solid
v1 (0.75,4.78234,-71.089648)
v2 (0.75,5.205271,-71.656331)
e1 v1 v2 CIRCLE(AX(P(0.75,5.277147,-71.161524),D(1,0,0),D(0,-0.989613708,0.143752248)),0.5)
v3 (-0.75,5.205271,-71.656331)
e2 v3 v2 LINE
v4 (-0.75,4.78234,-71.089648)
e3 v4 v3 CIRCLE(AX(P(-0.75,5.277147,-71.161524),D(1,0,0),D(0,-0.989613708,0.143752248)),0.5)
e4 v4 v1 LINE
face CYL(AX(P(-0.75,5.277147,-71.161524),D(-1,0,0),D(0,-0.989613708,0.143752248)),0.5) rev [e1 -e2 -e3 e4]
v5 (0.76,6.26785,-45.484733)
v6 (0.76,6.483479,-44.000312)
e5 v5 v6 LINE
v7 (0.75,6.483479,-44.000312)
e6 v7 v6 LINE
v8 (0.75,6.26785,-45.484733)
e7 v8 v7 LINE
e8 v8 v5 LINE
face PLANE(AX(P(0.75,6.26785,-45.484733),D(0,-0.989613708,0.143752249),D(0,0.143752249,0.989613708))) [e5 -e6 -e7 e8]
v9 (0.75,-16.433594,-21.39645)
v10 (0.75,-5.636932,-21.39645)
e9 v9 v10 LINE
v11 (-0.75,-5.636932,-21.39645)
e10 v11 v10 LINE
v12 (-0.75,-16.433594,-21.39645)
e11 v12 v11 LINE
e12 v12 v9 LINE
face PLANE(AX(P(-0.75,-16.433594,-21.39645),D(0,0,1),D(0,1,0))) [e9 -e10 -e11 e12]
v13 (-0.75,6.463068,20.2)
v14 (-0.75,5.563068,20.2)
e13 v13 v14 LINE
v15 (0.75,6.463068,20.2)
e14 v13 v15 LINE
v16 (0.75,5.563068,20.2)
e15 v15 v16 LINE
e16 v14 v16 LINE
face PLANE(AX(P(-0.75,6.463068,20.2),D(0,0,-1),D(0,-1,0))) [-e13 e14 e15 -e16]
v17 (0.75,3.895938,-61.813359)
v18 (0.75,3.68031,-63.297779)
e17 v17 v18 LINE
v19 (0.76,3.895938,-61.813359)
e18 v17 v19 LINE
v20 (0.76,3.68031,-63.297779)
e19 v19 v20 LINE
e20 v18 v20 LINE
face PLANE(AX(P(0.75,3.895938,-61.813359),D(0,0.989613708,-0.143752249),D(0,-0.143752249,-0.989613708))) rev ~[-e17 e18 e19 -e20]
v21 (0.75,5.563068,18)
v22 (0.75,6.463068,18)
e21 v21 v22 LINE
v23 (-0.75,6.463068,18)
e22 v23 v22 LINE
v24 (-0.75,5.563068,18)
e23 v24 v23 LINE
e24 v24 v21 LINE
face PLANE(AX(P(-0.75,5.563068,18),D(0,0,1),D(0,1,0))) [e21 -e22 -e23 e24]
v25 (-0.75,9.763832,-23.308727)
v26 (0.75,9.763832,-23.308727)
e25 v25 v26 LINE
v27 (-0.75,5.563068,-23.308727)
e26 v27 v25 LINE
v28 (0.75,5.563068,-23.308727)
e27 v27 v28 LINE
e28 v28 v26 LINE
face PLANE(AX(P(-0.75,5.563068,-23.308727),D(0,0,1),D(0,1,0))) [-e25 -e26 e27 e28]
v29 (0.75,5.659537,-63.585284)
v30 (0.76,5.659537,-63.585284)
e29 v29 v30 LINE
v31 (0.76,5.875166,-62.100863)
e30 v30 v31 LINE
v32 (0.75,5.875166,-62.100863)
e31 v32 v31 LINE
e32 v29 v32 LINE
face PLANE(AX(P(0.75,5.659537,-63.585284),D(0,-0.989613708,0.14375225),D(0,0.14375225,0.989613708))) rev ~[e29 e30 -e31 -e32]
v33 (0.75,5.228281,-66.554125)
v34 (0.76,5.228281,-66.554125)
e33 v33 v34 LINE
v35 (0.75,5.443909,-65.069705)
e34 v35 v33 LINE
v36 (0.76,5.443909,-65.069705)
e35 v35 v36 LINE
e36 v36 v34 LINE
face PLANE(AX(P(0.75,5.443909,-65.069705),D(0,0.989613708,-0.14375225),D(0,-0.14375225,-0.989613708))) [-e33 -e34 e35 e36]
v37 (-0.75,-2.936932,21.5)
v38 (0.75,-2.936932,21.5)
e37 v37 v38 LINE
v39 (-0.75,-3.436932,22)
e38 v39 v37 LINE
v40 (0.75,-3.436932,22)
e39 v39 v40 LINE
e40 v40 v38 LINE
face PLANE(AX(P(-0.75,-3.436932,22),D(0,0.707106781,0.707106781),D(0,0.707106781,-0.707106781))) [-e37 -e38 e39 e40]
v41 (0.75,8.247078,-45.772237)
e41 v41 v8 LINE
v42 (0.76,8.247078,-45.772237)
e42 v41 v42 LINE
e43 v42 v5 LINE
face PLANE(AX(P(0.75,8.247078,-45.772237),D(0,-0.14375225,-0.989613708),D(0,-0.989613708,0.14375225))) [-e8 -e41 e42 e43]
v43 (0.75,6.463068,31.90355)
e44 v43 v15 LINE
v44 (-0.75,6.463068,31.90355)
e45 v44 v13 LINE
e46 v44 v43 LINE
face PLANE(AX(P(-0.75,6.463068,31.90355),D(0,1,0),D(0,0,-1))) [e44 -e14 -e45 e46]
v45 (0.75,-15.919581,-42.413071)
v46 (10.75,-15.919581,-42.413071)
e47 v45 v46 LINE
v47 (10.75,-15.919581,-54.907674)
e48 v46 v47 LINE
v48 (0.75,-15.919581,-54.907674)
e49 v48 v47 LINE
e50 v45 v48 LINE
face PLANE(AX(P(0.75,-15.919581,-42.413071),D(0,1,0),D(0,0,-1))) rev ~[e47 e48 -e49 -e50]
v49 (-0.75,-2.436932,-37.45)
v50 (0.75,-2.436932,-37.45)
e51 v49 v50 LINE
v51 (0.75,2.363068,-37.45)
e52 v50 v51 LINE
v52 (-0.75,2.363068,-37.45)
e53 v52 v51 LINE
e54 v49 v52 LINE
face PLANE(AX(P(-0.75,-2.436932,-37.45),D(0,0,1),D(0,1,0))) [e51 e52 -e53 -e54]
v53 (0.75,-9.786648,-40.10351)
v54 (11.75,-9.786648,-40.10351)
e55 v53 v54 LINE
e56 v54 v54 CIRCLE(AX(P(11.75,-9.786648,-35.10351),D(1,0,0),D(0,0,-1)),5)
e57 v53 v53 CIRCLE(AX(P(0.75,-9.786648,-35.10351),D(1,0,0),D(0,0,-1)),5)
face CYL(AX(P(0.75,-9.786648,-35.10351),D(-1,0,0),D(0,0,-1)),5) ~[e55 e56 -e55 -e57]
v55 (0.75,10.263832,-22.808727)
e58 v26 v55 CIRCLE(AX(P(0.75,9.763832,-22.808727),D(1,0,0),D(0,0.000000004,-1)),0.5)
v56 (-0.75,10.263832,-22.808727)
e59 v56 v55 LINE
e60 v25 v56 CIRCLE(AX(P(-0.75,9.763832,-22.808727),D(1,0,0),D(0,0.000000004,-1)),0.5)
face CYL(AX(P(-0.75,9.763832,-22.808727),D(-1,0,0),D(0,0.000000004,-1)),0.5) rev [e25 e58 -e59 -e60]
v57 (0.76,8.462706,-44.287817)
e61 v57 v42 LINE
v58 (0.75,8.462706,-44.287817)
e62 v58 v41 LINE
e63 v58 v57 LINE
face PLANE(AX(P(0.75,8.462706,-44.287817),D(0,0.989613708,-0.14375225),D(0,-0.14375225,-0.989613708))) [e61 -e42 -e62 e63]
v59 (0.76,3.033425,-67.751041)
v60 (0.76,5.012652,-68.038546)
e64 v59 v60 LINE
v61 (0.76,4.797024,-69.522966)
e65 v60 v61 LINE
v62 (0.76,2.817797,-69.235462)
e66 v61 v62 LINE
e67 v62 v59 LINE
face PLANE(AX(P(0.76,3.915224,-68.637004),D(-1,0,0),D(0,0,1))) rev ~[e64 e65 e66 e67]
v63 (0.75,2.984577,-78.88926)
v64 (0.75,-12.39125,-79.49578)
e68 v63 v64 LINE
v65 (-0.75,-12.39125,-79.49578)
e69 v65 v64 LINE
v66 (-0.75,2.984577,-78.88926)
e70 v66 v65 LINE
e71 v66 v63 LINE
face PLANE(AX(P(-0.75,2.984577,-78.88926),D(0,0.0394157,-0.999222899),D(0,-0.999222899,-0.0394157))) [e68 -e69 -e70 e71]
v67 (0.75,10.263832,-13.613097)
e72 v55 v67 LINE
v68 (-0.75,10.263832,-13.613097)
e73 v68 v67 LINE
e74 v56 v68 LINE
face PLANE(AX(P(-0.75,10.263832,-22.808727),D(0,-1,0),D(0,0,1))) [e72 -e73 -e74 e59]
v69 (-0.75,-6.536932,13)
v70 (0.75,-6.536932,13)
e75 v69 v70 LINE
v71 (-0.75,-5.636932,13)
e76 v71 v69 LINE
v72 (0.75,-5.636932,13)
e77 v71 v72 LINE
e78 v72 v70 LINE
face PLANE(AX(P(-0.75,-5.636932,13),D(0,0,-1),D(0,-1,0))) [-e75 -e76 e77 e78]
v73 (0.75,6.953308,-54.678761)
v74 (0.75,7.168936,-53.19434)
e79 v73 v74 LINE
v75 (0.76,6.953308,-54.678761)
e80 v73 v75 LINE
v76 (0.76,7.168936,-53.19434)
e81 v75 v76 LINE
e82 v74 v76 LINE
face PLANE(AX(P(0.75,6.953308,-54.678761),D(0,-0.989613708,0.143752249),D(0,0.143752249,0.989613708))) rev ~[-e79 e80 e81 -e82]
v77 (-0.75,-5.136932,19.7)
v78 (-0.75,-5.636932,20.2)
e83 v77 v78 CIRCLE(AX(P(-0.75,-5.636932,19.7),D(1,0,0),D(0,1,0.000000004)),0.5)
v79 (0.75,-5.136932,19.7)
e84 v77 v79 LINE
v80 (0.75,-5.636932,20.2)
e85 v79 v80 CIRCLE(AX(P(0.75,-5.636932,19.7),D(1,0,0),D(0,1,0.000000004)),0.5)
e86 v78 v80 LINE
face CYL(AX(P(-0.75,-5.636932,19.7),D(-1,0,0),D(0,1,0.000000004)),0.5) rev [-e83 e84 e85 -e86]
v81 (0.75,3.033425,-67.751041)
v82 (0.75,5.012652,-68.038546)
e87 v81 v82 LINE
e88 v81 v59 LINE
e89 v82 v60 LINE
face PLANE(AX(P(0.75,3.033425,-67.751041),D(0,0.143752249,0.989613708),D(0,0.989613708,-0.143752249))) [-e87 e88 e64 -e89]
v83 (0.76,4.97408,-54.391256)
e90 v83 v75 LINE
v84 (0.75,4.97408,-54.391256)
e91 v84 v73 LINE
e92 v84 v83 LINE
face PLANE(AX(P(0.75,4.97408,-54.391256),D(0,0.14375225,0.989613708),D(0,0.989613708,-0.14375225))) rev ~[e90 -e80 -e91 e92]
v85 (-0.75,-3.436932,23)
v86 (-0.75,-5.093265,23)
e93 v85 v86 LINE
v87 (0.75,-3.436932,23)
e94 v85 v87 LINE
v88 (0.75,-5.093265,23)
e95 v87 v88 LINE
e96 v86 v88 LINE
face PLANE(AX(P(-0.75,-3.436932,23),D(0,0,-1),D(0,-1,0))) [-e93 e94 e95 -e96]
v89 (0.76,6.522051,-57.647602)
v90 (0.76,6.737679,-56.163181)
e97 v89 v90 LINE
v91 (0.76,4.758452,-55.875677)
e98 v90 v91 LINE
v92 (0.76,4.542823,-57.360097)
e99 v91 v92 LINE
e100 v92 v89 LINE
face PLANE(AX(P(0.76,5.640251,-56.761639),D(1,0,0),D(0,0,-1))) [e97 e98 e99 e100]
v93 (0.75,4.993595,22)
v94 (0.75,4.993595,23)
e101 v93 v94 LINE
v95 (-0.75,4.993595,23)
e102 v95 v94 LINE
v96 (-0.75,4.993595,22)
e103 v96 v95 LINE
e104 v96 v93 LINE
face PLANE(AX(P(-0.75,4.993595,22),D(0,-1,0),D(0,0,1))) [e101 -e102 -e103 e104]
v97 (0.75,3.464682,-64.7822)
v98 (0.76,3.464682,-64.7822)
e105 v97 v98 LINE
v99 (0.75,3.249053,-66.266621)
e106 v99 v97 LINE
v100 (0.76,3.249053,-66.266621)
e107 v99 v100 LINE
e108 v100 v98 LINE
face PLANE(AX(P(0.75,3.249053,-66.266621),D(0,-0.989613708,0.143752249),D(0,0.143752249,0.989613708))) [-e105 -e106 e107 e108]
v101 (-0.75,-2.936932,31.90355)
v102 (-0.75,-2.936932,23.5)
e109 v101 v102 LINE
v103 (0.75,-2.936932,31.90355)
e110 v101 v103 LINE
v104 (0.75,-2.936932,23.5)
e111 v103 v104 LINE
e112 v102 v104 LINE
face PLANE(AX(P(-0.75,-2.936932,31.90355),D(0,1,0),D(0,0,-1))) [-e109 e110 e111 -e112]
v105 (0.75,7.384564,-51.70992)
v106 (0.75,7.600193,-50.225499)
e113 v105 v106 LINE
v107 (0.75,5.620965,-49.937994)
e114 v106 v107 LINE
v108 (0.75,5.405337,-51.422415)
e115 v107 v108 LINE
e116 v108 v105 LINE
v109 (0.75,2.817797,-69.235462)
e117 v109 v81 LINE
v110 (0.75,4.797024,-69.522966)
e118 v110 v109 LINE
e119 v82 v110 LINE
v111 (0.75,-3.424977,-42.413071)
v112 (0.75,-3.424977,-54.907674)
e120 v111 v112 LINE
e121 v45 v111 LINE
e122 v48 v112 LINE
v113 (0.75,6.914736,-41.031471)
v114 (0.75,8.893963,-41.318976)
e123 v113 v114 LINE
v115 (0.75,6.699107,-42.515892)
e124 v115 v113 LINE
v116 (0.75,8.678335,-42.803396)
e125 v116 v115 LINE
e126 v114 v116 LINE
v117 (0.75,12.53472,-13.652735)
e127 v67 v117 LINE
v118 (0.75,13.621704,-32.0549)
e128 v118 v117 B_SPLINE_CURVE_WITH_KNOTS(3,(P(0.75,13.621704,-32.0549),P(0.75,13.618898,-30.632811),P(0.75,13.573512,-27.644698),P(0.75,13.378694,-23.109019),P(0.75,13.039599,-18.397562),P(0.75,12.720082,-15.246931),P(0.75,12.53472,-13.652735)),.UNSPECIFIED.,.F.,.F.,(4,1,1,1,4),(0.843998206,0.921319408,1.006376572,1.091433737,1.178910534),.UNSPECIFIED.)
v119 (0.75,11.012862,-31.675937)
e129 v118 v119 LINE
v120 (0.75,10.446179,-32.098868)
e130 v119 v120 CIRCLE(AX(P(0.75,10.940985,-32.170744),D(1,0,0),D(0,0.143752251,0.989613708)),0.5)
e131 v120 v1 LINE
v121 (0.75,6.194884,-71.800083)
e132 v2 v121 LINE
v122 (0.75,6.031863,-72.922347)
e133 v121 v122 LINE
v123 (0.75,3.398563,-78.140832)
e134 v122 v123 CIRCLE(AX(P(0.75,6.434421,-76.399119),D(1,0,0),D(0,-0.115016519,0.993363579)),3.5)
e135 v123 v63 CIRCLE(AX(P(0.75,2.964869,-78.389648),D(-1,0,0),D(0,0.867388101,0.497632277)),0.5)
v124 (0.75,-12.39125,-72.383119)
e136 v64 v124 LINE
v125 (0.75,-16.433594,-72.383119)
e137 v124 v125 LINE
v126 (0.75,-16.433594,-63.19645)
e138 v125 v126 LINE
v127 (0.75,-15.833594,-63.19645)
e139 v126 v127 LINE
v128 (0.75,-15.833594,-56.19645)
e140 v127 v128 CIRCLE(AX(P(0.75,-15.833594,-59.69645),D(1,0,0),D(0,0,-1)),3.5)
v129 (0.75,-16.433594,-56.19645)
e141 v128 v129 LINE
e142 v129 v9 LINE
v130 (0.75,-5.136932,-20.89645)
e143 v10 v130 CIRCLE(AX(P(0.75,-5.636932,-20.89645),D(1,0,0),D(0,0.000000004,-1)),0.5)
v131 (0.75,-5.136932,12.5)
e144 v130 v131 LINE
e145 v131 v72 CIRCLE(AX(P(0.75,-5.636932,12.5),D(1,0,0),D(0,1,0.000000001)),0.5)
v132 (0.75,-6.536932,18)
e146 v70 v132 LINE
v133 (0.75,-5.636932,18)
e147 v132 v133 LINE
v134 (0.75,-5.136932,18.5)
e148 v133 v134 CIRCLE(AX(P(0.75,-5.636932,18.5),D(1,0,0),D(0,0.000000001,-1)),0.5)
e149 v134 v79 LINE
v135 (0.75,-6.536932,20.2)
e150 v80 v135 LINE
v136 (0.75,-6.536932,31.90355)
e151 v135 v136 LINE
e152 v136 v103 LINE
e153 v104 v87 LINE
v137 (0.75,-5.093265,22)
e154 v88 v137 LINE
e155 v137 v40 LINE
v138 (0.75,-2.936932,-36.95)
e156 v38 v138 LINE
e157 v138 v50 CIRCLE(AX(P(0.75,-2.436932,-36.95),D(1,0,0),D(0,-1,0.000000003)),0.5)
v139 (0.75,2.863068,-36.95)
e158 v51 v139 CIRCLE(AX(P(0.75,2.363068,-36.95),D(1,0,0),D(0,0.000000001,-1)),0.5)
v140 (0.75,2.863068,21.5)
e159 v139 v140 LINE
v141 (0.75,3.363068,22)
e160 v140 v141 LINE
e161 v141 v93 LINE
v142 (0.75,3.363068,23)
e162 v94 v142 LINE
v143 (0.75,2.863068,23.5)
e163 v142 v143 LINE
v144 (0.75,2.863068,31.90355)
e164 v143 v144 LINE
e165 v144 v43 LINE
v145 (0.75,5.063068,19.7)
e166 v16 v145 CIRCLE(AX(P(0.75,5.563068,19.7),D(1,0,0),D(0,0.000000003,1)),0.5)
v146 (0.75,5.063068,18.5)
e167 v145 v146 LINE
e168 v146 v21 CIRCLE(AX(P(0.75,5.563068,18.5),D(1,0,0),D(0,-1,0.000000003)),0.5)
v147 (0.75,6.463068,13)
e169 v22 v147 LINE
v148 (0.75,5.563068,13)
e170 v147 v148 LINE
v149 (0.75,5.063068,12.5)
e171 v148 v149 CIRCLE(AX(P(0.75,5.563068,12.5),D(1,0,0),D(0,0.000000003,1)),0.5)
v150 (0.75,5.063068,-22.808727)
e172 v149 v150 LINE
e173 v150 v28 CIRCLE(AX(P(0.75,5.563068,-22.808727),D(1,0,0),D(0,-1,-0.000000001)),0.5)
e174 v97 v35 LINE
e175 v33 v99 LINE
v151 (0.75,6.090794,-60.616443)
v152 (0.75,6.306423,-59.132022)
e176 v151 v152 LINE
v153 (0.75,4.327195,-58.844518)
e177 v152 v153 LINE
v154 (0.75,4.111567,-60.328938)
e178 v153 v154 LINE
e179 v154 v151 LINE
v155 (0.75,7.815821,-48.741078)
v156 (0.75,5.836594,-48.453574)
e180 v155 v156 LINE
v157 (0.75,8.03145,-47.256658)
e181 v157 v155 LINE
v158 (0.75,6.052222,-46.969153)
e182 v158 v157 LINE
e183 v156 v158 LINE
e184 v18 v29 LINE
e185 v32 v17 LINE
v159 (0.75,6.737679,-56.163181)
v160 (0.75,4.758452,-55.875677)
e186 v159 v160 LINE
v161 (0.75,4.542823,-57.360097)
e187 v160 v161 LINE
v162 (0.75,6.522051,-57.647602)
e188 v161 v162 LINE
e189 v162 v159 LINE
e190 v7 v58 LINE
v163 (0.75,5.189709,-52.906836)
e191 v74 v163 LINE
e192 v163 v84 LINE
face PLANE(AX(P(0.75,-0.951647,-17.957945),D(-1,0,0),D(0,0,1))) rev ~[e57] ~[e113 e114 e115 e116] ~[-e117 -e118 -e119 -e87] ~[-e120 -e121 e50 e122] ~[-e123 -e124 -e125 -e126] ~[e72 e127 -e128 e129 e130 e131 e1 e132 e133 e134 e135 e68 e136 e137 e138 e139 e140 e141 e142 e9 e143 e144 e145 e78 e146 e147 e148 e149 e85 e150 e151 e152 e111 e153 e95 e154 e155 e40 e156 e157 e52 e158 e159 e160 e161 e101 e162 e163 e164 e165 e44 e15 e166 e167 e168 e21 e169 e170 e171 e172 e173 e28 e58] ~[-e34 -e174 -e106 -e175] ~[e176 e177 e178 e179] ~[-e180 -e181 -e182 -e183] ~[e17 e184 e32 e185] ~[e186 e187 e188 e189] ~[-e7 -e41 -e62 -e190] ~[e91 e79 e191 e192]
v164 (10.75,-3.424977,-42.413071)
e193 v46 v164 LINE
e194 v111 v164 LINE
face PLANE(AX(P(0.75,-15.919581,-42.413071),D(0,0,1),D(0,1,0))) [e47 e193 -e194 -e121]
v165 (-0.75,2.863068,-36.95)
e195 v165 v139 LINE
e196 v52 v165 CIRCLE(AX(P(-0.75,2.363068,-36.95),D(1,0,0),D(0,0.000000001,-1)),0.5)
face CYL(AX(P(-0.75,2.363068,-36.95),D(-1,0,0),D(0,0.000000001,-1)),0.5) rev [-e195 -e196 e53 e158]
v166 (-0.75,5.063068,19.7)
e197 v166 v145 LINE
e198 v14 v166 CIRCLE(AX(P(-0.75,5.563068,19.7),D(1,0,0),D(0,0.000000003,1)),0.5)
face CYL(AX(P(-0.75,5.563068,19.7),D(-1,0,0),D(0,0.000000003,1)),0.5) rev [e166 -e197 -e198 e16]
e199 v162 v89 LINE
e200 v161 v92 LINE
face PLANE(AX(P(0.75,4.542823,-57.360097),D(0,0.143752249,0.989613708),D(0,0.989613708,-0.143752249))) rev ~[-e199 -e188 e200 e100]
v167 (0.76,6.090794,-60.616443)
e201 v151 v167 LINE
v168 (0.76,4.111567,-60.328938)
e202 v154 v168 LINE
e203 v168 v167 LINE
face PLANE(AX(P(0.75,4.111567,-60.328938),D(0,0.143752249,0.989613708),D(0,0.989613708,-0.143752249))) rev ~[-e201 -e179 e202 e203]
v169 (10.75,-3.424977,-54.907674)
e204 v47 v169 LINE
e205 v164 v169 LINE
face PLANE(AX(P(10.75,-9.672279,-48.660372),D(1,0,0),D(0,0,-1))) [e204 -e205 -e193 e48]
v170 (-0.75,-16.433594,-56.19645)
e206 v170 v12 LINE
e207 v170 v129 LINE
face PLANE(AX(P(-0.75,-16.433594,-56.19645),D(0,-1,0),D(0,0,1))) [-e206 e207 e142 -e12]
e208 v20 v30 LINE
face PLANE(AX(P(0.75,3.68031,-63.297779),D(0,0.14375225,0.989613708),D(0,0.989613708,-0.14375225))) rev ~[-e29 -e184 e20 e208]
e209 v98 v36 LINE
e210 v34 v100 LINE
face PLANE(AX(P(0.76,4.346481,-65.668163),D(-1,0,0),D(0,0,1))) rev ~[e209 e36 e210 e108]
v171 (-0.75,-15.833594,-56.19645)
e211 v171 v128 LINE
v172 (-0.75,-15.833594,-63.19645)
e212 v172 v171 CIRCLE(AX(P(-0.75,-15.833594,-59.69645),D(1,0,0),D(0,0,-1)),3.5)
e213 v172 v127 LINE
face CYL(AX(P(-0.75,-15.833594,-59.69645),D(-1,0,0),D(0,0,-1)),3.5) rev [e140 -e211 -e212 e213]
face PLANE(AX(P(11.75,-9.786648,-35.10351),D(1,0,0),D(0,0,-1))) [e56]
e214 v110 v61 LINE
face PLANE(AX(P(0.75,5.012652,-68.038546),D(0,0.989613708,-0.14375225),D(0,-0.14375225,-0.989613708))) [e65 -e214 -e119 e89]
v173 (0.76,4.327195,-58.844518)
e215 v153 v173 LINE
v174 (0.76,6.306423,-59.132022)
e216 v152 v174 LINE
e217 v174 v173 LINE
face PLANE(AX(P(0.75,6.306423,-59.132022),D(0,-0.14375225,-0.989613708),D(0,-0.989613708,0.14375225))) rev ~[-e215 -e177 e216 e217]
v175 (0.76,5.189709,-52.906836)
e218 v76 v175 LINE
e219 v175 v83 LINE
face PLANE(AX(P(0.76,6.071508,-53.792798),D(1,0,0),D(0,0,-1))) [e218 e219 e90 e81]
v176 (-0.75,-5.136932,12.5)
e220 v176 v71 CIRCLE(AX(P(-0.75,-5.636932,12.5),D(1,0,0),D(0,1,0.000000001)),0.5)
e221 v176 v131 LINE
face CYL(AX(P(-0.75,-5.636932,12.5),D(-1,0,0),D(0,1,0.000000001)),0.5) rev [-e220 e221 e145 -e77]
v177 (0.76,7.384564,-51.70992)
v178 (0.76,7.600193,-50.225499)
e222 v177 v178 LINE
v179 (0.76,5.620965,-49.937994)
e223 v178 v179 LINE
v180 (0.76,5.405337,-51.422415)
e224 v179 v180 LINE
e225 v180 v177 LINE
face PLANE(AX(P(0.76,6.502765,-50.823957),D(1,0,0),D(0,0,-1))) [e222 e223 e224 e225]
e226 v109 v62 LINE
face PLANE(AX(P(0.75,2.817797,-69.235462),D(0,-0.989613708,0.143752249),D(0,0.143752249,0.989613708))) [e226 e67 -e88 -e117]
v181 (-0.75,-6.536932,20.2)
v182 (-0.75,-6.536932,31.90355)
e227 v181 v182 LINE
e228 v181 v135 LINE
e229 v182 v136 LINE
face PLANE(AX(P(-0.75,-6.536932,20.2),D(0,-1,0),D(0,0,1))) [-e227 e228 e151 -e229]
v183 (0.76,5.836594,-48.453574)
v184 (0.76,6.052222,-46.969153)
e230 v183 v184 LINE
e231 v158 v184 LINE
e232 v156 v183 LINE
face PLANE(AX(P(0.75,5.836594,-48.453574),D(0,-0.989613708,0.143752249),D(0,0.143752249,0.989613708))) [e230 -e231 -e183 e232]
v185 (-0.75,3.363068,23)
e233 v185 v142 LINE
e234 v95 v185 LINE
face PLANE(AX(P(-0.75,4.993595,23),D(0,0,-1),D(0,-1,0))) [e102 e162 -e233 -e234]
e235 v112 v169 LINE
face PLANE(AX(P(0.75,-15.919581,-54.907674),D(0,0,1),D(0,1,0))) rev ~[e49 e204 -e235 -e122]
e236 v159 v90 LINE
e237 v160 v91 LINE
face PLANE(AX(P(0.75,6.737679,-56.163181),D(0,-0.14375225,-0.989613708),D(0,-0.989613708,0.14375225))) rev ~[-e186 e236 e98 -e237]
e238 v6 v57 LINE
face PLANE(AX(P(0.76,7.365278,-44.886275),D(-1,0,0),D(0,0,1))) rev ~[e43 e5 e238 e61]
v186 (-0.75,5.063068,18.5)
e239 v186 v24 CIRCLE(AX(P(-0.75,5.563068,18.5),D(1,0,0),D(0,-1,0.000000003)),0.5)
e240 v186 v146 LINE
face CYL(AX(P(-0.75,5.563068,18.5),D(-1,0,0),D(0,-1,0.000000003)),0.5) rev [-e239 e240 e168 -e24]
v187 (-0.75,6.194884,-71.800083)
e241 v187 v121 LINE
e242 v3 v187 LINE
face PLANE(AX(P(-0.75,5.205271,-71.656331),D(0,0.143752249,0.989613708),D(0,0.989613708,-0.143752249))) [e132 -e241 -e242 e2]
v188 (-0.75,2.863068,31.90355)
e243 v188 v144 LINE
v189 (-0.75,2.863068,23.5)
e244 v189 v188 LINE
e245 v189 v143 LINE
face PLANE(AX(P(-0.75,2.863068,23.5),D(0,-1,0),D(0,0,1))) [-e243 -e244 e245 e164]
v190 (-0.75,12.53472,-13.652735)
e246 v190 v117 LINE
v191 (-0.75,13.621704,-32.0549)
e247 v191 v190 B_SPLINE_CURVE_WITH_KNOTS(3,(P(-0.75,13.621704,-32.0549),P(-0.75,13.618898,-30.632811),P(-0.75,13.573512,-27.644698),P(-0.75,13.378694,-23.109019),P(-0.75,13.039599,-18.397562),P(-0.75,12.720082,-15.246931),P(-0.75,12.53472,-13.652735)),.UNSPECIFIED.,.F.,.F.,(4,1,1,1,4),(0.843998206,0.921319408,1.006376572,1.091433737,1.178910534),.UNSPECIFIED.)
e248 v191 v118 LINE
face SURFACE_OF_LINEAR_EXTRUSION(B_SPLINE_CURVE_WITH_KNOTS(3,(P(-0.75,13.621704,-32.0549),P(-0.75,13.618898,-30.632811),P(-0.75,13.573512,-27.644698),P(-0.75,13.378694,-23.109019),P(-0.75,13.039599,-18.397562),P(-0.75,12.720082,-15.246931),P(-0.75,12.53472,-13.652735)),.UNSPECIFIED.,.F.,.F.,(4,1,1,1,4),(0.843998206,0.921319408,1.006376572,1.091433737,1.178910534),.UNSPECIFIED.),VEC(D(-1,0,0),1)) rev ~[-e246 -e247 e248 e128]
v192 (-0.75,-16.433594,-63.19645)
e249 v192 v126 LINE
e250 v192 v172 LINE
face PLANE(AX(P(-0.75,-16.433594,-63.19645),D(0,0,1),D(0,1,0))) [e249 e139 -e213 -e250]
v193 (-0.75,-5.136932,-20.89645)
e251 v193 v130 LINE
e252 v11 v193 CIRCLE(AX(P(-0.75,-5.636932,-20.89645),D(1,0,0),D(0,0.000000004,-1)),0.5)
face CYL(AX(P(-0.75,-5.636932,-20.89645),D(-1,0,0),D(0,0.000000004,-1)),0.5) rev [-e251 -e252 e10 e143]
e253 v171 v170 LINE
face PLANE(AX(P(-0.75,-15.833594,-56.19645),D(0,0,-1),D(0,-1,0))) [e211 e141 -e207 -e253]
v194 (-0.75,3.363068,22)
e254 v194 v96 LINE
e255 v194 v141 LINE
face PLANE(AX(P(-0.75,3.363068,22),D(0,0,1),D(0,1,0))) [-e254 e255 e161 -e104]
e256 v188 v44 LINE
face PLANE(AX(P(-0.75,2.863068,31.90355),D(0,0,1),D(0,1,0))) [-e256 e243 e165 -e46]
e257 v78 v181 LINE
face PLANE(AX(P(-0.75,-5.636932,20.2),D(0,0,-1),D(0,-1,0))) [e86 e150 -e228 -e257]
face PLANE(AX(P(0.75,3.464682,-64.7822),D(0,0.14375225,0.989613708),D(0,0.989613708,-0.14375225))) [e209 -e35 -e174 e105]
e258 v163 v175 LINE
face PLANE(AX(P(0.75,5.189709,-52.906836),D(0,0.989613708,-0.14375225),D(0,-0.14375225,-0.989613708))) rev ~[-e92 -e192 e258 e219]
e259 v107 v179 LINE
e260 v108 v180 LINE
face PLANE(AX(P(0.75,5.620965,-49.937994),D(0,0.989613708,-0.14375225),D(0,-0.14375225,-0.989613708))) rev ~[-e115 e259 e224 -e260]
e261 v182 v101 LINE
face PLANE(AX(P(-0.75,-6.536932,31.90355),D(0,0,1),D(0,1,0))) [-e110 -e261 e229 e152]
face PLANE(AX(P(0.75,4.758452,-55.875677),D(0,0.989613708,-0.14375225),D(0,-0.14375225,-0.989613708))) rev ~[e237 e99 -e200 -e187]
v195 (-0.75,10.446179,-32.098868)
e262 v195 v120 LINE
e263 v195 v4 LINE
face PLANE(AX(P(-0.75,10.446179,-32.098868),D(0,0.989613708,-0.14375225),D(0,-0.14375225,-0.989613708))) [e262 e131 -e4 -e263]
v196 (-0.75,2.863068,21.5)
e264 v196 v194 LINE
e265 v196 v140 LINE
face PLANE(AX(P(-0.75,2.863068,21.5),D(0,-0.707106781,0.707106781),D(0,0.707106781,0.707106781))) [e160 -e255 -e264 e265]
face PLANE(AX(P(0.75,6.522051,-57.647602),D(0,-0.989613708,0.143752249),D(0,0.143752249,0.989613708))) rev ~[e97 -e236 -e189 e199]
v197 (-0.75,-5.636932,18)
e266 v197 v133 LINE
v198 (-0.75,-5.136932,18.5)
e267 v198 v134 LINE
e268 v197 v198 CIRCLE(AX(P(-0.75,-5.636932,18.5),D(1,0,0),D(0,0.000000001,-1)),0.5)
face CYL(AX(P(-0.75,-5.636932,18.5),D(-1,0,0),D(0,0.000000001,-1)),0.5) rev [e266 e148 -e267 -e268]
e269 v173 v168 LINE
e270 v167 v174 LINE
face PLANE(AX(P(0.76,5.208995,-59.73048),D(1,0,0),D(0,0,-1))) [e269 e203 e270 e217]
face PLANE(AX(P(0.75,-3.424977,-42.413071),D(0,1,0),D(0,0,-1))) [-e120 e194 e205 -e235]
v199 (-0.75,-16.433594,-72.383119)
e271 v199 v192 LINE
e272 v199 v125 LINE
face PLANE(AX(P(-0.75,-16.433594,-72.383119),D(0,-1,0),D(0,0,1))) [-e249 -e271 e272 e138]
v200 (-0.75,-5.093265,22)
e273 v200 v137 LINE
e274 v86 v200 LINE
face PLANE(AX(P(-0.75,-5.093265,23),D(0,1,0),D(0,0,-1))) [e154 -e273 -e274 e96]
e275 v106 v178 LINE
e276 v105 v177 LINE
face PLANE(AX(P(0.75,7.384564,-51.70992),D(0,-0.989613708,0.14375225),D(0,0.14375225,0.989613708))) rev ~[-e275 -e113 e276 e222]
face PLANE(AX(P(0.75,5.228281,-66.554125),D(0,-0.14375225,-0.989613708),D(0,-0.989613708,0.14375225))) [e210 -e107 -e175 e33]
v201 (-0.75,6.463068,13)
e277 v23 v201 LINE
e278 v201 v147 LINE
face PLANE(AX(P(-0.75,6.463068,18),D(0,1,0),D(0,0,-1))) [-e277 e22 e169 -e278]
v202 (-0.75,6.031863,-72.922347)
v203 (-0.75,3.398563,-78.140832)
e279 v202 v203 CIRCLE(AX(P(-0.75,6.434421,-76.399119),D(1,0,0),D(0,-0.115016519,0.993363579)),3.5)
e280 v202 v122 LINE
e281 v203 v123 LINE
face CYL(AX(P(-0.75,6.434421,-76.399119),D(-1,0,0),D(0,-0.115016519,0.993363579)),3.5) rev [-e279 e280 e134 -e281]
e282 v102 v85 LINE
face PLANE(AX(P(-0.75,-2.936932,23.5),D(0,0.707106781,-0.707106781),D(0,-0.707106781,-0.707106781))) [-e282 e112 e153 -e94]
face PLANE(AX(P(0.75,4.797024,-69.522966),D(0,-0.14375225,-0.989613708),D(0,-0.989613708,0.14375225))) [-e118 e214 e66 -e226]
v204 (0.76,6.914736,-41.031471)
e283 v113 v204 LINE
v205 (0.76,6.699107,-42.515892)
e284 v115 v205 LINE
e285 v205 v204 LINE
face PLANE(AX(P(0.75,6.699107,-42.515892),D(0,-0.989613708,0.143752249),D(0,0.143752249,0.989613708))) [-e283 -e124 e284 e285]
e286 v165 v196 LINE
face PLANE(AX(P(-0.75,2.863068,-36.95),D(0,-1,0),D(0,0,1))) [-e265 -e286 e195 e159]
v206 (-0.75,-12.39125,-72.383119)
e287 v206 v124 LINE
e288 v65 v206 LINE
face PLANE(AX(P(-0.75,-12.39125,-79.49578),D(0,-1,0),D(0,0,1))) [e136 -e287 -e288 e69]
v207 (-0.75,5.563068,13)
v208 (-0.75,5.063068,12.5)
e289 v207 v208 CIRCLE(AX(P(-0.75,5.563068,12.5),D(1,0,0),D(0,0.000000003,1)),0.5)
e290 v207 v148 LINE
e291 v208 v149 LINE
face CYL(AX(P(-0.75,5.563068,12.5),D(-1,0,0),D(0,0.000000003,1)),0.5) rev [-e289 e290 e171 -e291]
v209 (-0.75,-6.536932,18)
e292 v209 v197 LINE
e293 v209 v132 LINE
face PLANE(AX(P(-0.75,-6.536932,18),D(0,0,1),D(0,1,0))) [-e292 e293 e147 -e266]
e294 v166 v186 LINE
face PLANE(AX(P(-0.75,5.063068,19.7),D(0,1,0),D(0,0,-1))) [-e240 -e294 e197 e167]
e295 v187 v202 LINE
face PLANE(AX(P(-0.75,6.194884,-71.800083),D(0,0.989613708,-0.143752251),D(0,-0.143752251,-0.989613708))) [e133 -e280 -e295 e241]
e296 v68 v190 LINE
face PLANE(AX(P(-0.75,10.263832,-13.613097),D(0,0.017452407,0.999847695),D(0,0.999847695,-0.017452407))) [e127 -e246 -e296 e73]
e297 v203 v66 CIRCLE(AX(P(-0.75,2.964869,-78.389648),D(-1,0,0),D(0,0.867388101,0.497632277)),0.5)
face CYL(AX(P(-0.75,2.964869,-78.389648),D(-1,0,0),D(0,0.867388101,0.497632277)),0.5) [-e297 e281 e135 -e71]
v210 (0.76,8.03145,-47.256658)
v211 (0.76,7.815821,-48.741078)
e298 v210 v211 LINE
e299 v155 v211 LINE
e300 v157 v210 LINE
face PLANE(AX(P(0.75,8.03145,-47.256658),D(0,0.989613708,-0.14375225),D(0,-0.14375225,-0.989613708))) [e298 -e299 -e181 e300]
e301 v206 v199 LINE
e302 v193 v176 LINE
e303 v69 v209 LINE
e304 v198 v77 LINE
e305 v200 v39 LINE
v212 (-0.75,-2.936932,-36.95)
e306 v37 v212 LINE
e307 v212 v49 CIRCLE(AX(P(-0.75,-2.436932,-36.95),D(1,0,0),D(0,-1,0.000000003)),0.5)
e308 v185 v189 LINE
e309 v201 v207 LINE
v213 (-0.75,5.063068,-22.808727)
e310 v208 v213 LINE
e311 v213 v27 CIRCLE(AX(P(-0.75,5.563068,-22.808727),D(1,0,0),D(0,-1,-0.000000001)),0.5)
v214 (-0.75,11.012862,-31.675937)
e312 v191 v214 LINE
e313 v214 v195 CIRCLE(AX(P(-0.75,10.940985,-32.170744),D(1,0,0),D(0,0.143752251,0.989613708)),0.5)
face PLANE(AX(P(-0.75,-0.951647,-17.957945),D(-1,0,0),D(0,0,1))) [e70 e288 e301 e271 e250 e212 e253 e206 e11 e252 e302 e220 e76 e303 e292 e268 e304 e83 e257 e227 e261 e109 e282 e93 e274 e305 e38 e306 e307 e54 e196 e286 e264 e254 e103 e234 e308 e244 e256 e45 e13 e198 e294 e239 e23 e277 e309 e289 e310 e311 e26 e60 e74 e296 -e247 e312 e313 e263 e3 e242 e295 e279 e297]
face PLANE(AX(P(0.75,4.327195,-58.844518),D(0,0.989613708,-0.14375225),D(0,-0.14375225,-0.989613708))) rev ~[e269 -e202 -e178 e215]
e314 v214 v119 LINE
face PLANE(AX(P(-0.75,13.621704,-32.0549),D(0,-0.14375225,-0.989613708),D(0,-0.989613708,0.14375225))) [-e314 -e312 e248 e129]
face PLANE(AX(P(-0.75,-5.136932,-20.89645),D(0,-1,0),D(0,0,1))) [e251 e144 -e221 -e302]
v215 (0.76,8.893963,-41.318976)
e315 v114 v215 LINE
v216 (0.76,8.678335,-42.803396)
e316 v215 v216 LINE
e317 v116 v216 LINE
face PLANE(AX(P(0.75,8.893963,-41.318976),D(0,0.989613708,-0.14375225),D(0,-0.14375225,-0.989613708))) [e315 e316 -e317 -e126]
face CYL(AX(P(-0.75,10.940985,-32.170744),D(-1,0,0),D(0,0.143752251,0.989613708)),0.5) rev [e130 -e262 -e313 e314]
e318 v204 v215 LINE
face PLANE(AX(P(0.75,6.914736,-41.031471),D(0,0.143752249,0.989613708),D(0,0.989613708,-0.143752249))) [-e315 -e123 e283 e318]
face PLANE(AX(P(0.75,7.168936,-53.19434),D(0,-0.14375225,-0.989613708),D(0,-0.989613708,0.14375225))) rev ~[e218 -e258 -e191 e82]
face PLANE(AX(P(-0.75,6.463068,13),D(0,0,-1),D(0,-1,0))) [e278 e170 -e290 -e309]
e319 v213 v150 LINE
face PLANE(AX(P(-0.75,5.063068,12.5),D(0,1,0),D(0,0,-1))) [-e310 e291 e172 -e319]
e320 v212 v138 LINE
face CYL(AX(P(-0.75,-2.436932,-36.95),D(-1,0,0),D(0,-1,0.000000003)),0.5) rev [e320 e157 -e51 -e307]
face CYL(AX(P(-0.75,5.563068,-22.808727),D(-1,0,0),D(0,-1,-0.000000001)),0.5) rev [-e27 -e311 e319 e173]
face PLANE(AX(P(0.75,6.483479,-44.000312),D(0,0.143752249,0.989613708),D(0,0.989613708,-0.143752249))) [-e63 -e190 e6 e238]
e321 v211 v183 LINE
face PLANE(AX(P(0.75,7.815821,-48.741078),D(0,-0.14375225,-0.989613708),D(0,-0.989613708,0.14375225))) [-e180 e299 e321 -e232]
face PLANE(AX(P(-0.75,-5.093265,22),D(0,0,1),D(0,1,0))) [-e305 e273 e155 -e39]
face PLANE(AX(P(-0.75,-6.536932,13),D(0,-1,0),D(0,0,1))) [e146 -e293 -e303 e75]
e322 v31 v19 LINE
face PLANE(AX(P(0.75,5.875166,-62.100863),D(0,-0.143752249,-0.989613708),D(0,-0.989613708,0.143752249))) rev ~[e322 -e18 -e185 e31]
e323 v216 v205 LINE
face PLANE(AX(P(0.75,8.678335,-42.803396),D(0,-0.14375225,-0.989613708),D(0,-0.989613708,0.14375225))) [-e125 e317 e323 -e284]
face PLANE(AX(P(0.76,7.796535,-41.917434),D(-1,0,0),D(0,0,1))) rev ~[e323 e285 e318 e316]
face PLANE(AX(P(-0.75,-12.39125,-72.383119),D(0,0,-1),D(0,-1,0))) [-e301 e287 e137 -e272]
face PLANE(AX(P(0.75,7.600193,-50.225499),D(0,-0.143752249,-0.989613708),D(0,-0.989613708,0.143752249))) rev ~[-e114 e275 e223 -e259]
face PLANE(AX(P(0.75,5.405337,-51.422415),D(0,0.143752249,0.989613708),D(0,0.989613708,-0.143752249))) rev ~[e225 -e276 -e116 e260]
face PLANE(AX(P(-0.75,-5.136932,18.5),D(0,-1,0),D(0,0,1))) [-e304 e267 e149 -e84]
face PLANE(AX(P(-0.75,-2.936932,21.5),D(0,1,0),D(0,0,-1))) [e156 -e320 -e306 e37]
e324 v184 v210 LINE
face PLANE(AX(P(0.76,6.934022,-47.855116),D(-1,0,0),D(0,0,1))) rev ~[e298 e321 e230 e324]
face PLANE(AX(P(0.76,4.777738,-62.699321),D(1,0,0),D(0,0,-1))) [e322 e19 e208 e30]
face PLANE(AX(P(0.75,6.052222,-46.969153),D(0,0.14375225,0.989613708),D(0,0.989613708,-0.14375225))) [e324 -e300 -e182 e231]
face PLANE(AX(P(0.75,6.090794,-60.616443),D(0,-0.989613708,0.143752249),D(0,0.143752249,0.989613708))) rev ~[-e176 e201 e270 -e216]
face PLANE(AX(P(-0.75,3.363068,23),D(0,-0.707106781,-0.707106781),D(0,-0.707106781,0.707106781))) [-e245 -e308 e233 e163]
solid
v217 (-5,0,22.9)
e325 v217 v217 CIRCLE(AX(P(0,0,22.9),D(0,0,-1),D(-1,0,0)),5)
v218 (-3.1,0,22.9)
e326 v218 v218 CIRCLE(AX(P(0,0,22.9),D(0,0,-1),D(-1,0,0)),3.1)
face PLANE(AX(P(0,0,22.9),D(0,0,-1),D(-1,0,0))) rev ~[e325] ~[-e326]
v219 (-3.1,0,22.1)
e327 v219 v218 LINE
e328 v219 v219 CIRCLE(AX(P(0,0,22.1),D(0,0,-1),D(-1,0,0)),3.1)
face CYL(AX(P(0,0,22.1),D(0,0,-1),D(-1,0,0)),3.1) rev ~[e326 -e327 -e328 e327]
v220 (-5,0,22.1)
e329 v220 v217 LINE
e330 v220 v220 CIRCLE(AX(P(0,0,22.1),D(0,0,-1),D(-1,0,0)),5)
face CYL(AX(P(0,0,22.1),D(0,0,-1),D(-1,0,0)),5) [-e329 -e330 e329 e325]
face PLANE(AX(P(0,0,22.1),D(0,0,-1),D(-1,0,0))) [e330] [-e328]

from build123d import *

# Parameters (mm, degrees)
BOSS_EXTRUDE1_DEPTH      = 0.75
BOSS_EXTRUDE1_DEPTH_BACK = 0.75
BOSS_EXTRUDE2_START      = -1.9
SKETCH3_R                = 5
SKETCH3_R_2              = 3.1
BOSS_EXTRUDE2_DEPTH      = 0.8
BOSS_EXTRUDE3_DEPTH      = 0.01
SKETCH7_W                = 12.494603103
SKETCH7_H                = 12.494603103
BOSS_EXTRUDE4_DEPTH      = 10
SKETCH8_R                = 5
BOSS_EXTRUDE5_DEPTH      = 11


with BuildPart() as part:
    # Sketch1 → Boss-Extrude1 (new, two sides: drawn at the far end of the back side and taken through both)
    with BuildSketch(Plane(origin=(0, 0, 0), x_dir=(0, 0, -1), z_dir=(1, 0, 0)).offset(-BOSS_EXTRUDE1_DEPTH_BACK)):
        with BuildLine():
            Line((37.45, -2.436931654), (37.45, 2.363068346))
            ThreePointArc((37.45, 2.363068346), (37.303553391, 2.716621736), (36.95, 2.863068346))
            Line((36.95, 2.863068346), (-21.5, 2.863068346))
            Line((-21.5, 2.863068346), (-22, 3.363068346))
            Line((-22, 3.363068346), (-22, 4.993594932))
            Line((-22, 4.993594932), (-23, 4.993594932))
            Line((-23, 4.993594932), (-23, 3.363068346))
            Line((-23, 3.363068346), (-23.5, 2.863068346))
            Line((-23.5, 2.863068346), (-31.90354955, 2.863068346))
            Line((-31.90354955, 2.863068346), (-31.90354955, 6.463068346))
            Line((-31.90354955, 6.463068346), (-20.2, 6.463068346))
            Line((-20.2, 6.463068346), (-20.2, 5.563068346))
            ThreePointArc((-20.2, 5.563068346), (-20.053553391, 5.209514955), (-19.7, 5.063068346))
            Line((-19.7, 5.063068346), (-18.5, 5.063068346))
            ThreePointArc((-18.5, 5.063068346), (-18.146446609, 5.209514955), (-18, 5.563068346))
            Line((-18, 5.563068346), (-18, 6.463068346))
            Line((-18, 6.463068346), (-13, 6.463068346))
            Line((-13, 6.463068346), (-13, 5.563068346))
            ThreePointArc((-13, 5.563068346), (-12.853553391, 5.209514955), (-12.5, 5.063068346))
            Line((-12.5, 5.063068346), (22.808726868, 5.063068346))
            ThreePointArc((22.808726868, 5.063068346), (23.162280258, 5.209514955), (23.308726868, 5.563068346))
            Line((23.308726868, 5.563068346), (23.308726868, 9.763832191))
            ThreePointArc((23.308726868, 9.763832191), (23.162280258, 10.117385581), (22.808726868, 10.263832191))
            Line((22.808726868, 10.263832191), (13.613096845, 10.263832191))
            Line((13.613096845, 10.263832191), (13.652735343, 12.534720206))
            add(Edge.make_bspline(
                [(32.054900348, 13.621703513), (30.632810596, 13.618897937), (27.64469846, 13.573512435), (23.109018983, 13.37869396), (18.397561725, 13.039599309), (15.246931074, 12.72008221), (13.652735343, 12.534720206)],
                knots=[0.843998206, 0.843998206, 0.843998206, 0.843998206, 0.921319408, 1.006376572, 1.091433737, 1.178910534, 1.178910534, 1.178910534, 1.178910534], degree=3))
            Line((32.054900348, 13.621703513), (31.675937422, 11.012861513))
            ThreePointArc((31.675937422, 11.012861513), (31.770038899, 10.641928201), (32.098868151, 10.446178534))
            Line((32.098868151, 10.446178534), (71.089648239, 4.782339895))
            ThreePointArc((71.089648239, 4.782339895), (71.46058155, 4.876441372), (71.656331218, 5.205270624))
            Line((71.656331218, 5.205270624), (71.800083467, 6.194884332))
            Line((71.800083467, 6.194884332), (72.922346789, 6.031863269))
            ThreePointArc((72.922346789, 6.031863269), (74.822358128, 3.309709233), (78.140832287, 3.398562734))
            ThreePointArc((78.140832287, 3.398562734), (78.6316623, 3.402395008), (78.889259875, 2.984576534))
            Line((78.889259875, 2.984576534), (79.495780173, -12.391250274))
            Line((79.495780173, -12.391250274), (72.383118526, -12.391250274))
            Line((72.383118526, -12.391250274), (72.383118526, -16.433593955))
            Line((72.383118526, -16.433593955), (63.19645045, -16.433593955))
            Line((63.19645045, -16.433593955), (63.19645045, -15.833593955))
            ThreePointArc((63.19645045, -15.833593955), (59.69645045, -12.333593955), (56.19645045, -15.833593955))
            Line((56.19645045, -15.833593955), (56.19645045, -16.433593955))
            Line((56.19645045, -16.433593955), (21.39645045, -16.433593955))
            Line((21.39645045, -16.433593955), (21.39645045, -5.636931654))
            ThreePointArc((21.39645045, -5.636931654), (21.25000384, -5.283378264), (20.89645045, -5.136931654))
            Line((20.89645045, -5.136931654), (-12.5, -5.136931654))
            ThreePointArc((-12.5, -5.136931654), (-12.853553391, -5.283378264), (-13, -5.636931654))
            Line((-13, -5.636931654), (-13, -6.536931654))
            Line((-13, -6.536931654), (-18, -6.536931654))
            Line((-18, -6.536931654), (-18, -5.636931654))
            ThreePointArc((-18, -5.636931654), (-18.146446609, -5.283378264), (-18.5, -5.136931654))
            Line((-18.5, -5.136931654), (-19.7, -5.136931654))
            ThreePointArc((-19.7, -5.136931654), (-20.05355339, -5.283378264), (-20.2, -5.636931654))
            Line((-20.2, -5.636931654), (-20.2, -6.536931654))
            Line((-20.2, -6.536931654), (-31.90354955, -6.536931654))
            Line((-31.90354955, -6.536931654), (-31.90354955, -2.936931654))
            Line((-31.90354955, -2.936931654), (-23.5, -2.936931654))
            Line((-23.5, -2.936931654), (-23, -3.436931654))
            Line((-23, -3.436931654), (-23, -5.093265035))
            Line((-23, -5.093265035), (-22, -5.093265035))
            Line((-22, -5.093265035), (-22, -3.436931654))
            Line((-22, -3.436931654), (-21.5, -2.936931654))
            Line((-21.5, -2.936931654), (36.95, -2.936931654))
            ThreePointArc((36.95, -2.936931654), (37.303553391, -2.790485045), (37.45, -2.436931654))
        make_face()
    extrude(amount=BOSS_EXTRUDE1_DEPTH + BOSS_EXTRUDE1_DEPTH_BACK)

    # Sketch6 → Boss-Extrude3 (add)
    with BuildSketch(Plane(origin=(0.75, 0, 0), x_dir=(0, 0, -1), z_dir=(1, 0, 0))):
        Polygon((48.74107838, 7.815821162), (48.45357388, 5.836593747), (46.969153318, 6.052222121), (47.256657818, 8.031449537), align=None)
        Polygon((42.515891633, 6.699107245), (41.031471072, 6.914735619), (41.318975571, 8.893963035), (42.803396133, 8.67833466), align=None)
        Polygon((45.484732757, 6.267850496), (44.000312195, 6.48347887), (44.287816694, 8.462706286), (45.772237256, 8.247077911), align=None)
        Polygon((66.266620621, 3.249053252), (64.782200059, 3.464681626), (65.069704559, 5.443909042), (66.55412512, 5.228280667), align=None)
        Polygon((69.235461744, 2.817796503), (67.751041183, 3.033424877), (68.038545682, 5.012652293), (69.522966244, 4.797023918), align=None)
        Polygon((50.225498941, 7.600192788), (49.937994442, 5.620965372), (51.422415004, 5.405336997), (51.709919503, 7.384564413), align=None)
        Polygon((53.194340065, 7.168936038), (52.906835565, 5.189708623), (54.391256127, 4.974080248), (54.678760627, 6.953307664), align=None)
        Polygon((56.163181188, 6.737679289), (55.875676689, 4.758451874), (57.360097251, 4.542823499), (57.64760175, 6.522050915), align=None)
        Polygon((59.132022312, 6.30642254), (58.844517812, 4.327195125), (60.328938374, 4.11156675), (60.616442873, 6.090794166), align=None)
        Polygon((62.100863435, 5.875165791), (61.813358936, 3.895938375), (63.297779497, 3.680310001), (63.585283997, 5.659537416), align=None)
    extrude(amount=BOSS_EXTRUDE3_DEPTH)

    # Sketch7 → Boss-Extrude4 (add)
    with BuildSketch(Plane(origin=(0.75, 0, 0), x_dir=(0, 0, -1), z_dir=(1, 0, 0))):
        with Locations((48.660372479, -9.672279041)):
            Rectangle(SKETCH7_W, SKETCH7_H)
    extrude(amount=BOSS_EXTRUDE4_DEPTH)

    # Sketch8 → Boss-Extrude5 (add)
    with BuildSketch(Plane(origin=(0.75, 0, 0), x_dir=(0, 0, -1), z_dir=(1, 0, 0))):
        with Locations((35.103510038, -9.786647509)):
            Circle(SKETCH8_R)
    extrude(amount=BOSS_EXTRUDE5_DEPTH)


with BuildPart() as body_2:
    # Sketch3 → Boss-Extrude2 (new body)
    with BuildSketch(Plane(origin=(0, 0, 20.2), x_dir=(-1, 0, 0), z_dir=(0, 0, -1)).offset(BOSS_EXTRUDE2_START)):
        Circle(SKETCH3_R)
        Circle(SKETCH3_R_2, mode=Mode.SUBTRACT)
    extrude(amount=-BOSS_EXTRUDE2_DEPTH)


solid = Compound([part.part, body_2.part])
